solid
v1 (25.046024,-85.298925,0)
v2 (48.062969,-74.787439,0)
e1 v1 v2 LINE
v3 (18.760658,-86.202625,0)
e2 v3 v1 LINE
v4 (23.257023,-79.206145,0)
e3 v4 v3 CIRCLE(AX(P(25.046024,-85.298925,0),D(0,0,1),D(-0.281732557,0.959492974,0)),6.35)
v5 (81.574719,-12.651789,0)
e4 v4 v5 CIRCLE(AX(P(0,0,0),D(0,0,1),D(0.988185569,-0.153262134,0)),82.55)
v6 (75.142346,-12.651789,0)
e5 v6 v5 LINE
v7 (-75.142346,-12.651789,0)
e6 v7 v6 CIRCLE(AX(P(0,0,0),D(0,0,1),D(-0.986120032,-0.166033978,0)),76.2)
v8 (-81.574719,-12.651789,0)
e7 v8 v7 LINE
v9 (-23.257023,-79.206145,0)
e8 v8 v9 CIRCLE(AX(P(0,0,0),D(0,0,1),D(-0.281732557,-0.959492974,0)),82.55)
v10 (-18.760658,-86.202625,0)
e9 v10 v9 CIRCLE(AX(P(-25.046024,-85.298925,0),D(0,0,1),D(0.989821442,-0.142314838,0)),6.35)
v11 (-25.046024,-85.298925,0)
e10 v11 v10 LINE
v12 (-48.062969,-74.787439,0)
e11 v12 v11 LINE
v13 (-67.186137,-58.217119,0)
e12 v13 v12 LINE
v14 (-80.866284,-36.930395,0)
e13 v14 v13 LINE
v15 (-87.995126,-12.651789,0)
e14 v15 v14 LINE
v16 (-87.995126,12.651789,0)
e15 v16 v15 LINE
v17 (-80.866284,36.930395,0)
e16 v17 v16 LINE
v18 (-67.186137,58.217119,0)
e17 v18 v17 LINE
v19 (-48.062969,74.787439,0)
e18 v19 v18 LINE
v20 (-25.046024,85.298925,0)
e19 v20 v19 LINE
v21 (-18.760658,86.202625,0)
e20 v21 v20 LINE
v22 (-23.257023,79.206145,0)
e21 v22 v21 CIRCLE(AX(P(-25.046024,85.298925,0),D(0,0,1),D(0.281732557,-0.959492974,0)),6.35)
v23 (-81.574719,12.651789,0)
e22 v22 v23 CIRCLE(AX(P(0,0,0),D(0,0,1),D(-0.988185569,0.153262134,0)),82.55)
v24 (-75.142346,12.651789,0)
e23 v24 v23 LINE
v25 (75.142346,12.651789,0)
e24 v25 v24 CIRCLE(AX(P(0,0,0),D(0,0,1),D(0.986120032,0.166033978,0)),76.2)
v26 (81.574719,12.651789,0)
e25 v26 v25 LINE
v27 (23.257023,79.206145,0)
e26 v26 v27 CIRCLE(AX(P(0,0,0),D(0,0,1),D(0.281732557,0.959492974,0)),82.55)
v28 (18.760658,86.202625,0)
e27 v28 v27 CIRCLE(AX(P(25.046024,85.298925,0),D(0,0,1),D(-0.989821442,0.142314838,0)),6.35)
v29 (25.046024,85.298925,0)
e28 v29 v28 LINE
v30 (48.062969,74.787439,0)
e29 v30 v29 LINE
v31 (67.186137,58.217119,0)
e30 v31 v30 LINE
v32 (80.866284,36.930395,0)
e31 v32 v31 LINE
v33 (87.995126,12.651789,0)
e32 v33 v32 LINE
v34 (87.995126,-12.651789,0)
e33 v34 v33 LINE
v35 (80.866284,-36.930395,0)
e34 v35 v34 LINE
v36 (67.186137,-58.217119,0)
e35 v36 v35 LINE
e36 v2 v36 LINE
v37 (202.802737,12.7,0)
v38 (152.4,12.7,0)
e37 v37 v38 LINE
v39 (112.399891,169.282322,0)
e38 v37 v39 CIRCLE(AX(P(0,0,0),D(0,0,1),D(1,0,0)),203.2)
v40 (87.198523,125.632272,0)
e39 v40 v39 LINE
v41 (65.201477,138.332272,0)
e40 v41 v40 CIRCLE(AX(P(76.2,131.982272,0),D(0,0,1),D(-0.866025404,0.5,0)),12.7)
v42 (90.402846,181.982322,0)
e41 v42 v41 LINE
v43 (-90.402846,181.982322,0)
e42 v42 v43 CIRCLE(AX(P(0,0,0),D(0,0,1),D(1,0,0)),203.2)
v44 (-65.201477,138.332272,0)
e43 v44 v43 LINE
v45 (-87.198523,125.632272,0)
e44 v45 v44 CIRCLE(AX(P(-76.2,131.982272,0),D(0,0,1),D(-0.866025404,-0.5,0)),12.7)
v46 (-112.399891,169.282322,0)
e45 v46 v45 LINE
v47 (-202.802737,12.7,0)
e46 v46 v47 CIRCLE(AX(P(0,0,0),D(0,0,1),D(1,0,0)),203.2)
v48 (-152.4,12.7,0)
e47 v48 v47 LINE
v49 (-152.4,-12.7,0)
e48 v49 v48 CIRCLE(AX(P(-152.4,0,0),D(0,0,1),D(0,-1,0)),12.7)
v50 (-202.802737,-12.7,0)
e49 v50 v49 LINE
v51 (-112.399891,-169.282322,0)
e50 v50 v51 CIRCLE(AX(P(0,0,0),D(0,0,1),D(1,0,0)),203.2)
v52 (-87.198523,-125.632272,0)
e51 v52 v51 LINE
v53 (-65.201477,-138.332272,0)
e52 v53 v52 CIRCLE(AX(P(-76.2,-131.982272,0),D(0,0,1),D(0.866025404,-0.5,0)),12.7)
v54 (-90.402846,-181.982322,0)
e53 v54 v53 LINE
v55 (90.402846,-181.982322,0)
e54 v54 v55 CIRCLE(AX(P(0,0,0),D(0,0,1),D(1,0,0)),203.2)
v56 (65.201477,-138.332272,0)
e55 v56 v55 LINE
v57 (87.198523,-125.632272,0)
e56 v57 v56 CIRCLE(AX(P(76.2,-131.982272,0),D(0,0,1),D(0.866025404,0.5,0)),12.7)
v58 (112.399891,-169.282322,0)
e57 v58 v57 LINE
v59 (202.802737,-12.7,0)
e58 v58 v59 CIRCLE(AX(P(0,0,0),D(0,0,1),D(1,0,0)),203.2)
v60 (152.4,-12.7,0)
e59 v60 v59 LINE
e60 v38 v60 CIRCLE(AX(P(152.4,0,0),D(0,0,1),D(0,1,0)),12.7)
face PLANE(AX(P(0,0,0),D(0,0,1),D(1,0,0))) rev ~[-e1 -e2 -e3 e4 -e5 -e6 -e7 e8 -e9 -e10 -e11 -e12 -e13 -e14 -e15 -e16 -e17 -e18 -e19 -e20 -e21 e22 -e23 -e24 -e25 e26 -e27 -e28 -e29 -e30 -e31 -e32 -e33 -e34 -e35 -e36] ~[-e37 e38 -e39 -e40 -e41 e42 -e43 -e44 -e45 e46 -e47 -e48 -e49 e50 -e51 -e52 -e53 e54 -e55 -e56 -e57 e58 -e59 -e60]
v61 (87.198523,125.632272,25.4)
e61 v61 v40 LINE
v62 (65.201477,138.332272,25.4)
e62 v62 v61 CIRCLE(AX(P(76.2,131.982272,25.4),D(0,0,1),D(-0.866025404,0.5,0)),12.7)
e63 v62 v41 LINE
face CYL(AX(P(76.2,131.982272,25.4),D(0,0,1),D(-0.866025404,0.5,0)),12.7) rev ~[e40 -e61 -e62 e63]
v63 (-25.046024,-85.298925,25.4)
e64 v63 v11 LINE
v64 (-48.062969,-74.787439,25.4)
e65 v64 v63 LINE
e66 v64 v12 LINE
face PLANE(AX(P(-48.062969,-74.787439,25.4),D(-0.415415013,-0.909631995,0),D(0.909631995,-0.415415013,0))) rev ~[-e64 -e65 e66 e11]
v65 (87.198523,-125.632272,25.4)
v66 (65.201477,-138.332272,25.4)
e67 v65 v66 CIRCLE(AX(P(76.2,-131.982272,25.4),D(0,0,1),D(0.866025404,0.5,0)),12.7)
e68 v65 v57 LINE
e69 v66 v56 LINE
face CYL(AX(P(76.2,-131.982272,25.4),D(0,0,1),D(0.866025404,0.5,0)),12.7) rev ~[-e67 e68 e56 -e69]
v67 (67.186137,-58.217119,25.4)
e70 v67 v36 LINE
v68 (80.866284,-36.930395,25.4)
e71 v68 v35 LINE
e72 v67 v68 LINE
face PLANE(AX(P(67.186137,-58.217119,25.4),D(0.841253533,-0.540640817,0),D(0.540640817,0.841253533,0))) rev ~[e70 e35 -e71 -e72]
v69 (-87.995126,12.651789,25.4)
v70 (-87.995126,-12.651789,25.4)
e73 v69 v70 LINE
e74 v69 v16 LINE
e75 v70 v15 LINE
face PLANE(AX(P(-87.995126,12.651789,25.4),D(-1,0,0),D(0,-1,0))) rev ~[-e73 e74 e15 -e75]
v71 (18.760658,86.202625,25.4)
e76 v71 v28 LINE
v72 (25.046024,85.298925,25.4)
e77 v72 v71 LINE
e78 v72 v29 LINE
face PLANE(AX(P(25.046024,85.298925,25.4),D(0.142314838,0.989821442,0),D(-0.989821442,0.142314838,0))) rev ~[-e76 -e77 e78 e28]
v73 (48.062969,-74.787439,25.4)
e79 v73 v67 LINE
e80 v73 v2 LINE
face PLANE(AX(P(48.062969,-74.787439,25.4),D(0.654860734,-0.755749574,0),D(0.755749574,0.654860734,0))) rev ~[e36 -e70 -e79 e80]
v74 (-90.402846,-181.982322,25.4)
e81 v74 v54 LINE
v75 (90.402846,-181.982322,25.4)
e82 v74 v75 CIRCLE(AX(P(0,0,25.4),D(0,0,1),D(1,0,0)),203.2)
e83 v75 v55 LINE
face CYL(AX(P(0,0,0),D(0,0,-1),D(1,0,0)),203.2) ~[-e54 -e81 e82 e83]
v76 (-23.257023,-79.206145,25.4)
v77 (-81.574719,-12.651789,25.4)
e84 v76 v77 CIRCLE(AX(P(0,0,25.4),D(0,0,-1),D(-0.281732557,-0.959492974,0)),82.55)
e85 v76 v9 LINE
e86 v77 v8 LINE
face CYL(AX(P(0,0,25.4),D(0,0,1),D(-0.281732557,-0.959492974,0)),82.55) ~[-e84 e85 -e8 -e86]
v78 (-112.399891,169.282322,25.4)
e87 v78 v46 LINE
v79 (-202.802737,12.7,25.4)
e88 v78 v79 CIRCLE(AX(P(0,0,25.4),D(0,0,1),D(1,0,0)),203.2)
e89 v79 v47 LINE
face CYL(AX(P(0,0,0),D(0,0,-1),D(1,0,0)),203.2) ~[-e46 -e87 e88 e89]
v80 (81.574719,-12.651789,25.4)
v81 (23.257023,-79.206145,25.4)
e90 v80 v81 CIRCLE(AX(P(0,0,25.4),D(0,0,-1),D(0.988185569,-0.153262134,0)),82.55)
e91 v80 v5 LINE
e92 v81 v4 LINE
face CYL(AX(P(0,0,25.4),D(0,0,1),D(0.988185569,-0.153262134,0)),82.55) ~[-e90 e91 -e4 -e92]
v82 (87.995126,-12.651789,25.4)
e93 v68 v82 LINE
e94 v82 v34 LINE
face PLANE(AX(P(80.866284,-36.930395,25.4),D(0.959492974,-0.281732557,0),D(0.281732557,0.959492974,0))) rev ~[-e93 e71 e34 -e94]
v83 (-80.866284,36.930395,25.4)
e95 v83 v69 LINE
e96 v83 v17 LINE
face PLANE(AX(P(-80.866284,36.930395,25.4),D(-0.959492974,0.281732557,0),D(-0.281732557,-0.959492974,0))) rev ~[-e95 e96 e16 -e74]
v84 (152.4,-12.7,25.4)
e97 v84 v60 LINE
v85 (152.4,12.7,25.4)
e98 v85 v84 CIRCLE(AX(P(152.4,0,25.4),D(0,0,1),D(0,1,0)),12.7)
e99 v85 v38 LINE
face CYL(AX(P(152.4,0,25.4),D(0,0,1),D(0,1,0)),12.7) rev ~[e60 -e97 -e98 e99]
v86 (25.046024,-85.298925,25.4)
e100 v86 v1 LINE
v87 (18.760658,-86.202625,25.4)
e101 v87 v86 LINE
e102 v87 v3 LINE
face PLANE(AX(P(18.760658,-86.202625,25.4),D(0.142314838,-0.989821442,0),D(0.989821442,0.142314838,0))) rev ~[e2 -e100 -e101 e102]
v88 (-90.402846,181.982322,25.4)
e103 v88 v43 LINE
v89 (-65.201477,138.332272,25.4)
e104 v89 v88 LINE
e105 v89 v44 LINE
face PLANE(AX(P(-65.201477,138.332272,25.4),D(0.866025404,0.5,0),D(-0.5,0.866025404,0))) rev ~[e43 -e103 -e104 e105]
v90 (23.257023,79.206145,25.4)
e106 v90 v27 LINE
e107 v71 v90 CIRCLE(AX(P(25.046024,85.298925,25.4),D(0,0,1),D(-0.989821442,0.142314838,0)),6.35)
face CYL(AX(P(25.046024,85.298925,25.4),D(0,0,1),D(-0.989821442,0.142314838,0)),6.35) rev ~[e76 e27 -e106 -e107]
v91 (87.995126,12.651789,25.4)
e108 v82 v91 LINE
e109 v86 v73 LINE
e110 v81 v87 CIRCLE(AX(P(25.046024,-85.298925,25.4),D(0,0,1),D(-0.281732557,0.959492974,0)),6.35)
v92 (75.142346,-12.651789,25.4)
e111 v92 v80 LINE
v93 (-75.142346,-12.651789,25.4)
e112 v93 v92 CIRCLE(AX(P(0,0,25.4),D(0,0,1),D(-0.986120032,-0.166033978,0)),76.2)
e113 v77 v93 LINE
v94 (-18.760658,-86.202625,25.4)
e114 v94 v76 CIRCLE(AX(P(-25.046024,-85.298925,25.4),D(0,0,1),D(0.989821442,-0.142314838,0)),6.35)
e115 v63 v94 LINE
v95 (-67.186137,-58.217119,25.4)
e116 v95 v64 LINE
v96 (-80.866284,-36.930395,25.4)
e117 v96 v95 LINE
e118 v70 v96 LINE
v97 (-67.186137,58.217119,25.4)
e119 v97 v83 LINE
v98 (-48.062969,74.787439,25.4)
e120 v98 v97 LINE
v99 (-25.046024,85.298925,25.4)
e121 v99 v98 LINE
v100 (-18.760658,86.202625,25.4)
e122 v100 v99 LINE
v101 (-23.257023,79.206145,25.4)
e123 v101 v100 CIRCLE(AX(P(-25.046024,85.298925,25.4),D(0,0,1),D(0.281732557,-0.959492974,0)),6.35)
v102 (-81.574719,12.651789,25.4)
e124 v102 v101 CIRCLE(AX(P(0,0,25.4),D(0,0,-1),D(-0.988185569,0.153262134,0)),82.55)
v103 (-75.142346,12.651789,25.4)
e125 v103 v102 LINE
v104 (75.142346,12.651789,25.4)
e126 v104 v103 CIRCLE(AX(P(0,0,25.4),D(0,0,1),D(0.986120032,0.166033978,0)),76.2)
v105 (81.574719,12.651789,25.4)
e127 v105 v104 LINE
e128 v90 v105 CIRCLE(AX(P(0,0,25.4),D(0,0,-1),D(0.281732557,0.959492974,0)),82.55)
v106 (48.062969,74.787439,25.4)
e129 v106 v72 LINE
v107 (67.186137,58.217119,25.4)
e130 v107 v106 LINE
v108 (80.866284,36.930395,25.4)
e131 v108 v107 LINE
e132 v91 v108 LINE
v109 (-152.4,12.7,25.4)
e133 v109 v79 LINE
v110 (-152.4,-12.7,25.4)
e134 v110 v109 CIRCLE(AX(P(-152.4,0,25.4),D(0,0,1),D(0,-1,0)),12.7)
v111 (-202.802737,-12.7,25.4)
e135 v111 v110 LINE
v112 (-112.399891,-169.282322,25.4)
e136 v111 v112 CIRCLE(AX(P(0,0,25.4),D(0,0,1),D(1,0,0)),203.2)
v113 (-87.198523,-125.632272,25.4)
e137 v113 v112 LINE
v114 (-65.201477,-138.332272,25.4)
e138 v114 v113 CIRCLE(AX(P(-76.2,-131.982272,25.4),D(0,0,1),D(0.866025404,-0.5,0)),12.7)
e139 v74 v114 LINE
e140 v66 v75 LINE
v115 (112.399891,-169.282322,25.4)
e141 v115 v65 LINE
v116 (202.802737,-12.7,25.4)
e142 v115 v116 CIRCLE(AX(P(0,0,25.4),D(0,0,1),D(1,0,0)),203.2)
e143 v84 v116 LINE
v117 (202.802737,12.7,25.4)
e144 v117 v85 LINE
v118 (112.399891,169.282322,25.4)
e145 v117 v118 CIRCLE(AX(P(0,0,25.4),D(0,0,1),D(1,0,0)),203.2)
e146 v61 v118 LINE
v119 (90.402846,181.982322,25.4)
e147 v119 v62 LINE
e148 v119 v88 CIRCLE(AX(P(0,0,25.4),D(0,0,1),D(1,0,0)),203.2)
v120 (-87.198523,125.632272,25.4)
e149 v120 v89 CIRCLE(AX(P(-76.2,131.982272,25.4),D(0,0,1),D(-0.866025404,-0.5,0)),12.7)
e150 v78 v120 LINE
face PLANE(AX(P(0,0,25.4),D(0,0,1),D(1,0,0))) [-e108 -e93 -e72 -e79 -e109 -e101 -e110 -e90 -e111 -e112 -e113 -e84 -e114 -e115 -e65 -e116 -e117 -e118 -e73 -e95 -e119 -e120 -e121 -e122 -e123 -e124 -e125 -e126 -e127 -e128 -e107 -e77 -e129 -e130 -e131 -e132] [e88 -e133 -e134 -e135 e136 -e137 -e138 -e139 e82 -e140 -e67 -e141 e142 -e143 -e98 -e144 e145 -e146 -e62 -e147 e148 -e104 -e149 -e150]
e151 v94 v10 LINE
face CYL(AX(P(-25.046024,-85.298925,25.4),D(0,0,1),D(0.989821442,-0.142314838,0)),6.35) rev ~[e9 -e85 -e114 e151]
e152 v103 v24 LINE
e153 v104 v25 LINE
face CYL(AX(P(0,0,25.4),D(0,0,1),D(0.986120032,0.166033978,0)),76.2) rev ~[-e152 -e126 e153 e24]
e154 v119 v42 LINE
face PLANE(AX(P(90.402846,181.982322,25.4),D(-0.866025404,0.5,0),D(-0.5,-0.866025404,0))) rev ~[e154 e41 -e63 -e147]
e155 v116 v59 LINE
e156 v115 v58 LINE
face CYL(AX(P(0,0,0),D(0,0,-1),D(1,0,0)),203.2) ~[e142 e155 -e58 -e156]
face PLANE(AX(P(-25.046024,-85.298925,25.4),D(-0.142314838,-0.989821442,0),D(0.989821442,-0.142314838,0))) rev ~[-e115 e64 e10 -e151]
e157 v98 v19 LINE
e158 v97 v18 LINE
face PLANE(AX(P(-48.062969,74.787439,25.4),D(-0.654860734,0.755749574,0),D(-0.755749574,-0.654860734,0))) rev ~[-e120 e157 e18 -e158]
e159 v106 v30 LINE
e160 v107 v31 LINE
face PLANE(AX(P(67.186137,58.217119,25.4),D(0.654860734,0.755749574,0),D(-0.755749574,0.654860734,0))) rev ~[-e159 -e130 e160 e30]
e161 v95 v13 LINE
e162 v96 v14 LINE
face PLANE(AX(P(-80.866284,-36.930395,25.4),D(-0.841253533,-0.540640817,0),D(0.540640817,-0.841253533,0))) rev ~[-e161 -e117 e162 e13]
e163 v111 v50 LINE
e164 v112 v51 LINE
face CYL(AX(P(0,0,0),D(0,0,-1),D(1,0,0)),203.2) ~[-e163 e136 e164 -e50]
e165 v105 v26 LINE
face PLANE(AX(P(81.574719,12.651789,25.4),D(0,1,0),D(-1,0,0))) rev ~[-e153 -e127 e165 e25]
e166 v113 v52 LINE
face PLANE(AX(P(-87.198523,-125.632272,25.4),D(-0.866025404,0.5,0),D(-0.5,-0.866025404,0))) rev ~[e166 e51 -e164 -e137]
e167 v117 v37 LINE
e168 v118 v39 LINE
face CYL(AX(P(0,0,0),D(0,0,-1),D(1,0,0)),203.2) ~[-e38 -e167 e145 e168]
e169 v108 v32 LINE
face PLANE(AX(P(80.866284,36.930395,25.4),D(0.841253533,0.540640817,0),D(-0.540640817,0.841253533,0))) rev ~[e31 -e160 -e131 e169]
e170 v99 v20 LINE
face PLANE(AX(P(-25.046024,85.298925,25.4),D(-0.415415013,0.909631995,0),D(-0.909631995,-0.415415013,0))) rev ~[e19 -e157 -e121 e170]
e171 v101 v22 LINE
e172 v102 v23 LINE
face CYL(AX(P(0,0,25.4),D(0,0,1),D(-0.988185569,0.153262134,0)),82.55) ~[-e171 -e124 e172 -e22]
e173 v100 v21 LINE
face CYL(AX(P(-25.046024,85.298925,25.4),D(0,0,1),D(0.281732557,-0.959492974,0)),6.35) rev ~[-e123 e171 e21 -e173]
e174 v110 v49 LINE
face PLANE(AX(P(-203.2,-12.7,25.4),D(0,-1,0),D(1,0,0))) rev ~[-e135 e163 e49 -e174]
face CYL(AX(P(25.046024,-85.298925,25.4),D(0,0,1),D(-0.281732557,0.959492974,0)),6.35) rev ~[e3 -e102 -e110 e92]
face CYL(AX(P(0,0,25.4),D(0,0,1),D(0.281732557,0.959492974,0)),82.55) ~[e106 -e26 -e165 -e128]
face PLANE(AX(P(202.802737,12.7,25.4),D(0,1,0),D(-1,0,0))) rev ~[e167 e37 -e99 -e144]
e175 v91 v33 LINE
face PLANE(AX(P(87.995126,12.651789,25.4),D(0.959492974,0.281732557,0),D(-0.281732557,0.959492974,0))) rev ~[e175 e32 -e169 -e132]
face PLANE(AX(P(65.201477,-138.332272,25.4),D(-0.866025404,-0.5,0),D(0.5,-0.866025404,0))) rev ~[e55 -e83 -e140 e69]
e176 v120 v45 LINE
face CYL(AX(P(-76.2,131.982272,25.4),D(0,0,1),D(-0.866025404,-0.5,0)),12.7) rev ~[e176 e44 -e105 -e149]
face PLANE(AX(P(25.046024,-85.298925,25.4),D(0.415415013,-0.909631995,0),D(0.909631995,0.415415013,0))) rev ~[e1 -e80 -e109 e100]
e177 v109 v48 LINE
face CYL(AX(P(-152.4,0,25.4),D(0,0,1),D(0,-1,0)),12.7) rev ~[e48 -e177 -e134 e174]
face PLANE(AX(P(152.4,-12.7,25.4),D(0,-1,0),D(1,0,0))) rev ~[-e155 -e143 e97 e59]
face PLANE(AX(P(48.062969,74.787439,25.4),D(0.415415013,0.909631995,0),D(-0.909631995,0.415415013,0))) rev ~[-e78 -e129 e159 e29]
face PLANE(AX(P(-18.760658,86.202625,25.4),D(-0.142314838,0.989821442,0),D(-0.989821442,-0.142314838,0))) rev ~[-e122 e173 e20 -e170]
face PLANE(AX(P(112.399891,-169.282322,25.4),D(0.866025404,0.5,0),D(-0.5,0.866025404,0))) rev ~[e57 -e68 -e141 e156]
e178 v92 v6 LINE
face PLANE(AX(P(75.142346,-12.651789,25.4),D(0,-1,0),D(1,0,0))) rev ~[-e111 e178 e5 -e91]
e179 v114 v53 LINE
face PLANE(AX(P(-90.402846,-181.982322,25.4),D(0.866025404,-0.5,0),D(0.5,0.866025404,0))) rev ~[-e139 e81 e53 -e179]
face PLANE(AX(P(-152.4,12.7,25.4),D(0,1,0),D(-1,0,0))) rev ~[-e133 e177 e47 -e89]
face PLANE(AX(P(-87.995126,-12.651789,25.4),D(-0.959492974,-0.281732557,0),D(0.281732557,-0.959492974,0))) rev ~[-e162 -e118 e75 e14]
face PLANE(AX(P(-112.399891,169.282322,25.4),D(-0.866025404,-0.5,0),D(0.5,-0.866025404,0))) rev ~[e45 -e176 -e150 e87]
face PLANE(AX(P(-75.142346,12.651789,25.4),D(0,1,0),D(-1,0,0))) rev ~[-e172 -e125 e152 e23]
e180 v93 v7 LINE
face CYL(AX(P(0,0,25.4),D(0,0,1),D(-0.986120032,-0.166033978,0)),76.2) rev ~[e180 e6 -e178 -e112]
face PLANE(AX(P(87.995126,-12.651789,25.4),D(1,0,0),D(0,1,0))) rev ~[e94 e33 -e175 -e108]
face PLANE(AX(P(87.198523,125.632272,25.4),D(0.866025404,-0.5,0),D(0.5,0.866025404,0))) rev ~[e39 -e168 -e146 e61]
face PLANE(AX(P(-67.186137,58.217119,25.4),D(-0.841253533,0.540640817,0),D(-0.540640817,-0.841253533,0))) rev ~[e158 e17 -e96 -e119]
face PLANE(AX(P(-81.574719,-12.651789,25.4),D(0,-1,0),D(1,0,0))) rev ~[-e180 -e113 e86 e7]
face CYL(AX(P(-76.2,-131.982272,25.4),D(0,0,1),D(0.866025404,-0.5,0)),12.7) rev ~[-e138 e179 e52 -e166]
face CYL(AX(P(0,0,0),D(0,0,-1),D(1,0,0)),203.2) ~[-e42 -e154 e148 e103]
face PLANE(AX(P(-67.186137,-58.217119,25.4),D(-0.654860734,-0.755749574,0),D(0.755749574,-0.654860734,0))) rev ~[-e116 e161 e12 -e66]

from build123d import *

# Parameters (mm, degrees)
F0_R     = 203.2
F1_DEPTH = 25.4
F3_DEPTH = 25.401
F5_DEPTH = 25.401


with BuildPart() as f1:
    # F0 (on Top) → F1 (new body)
    with BuildSketch(Plane.XY):
        Circle(F0_R)
    extrude(amount=F1_DEPTH)

    # F2 (on face) → F3 (cut, through all)
    with BuildSketch(Plane.XY.offset(25.4)):
        with BuildLine():
            ThreePointArc((-203.2, 12.7), (-215.9, 0), (-203.2, -12.7))
            Line((-203.2, -12.7), (-152.4, -12.7))
            ThreePointArc((-152.4, -12.7), (-139.7, 0), (-152.4, 12.7))
            Line((-152.4, 12.7), (-203.2, 12.7))
        make_face()
        with BuildLine():
            Line((-87.1985226281, -125.6322715367), (-112.399890962, -169.2823219114))
            ThreePointArc((-112.399890962, -169.2823219114), (-101.6, -175.976362049), (-90.4028457059, -181.9823219114))
            Line((-90.4028457059, -181.9823219114), (-65.2014773719, -138.3322715367))
            ThreePointArc((-65.2014773719, -138.3322715367), (-69.85, -120.9837489087), (-87.1985226281, -125.6322715367))
        make_face()
        with BuildLine():
            Line((65.2014773719, -138.3322715367), (90.4028457059, -181.9823219114))
            ThreePointArc((90.4028457059, -181.9823219114), (101.6, -175.976362049), (112.399890962, -169.2823219114))
            Line((112.399890962, -169.2823219114), (87.1985226281, -125.6322715367))
            ThreePointArc((87.1985226281, -125.6322715367), (69.85, -120.9837489087), (65.2014773719, -138.3322715367))
        make_face()
        with BuildLine():
            Line((152.4, -12.7), (202.8027366679, -12.7))
            ThreePointArc((202.8027366679, -12.7), (203.1006598844, -6.353105897), (203.2, 0))
            ThreePointArc((203.2, 0), (203.1006598844, 6.353105897), (202.8027366679, 12.7))
            Line((202.8027366679, 12.7), (152.4, 12.7))
            ThreePointArc((152.4, 12.7), (139.7, 0), (152.4, -12.7))
        make_face()
        with BuildLine():
            ThreePointArc((112.399890962, 169.2823219114), (101.6, 175.976362049), (90.4028457059, 181.9823219114))
            Line((90.4028457059, 181.9823219114), (65.2014773719, 138.3322715367))
            ThreePointArc((65.2014773719, 138.3322715367), (69.85, 120.9837489087), (87.1985226281, 125.6322715367))
            Line((87.1985226281, 125.6322715367), (112.399890962, 169.2823219114))
        make_face()
        with BuildLine():
            ThreePointArc((-90.4028457059, 181.9823219114), (-101.6, 175.976362049), (-112.399890962, 169.2823219114))
            Line((-112.399890962, 169.2823219114), (-87.1985226281, 125.6322715367))
            ThreePointArc((-87.1985226281, 125.6322715367), (-69.85, 120.9837489087), (-65.2014773719, 138.3322715367))
            Line((-65.2014773719, 138.3322715367), (-90.4028457059, 181.9823219114))
        make_face()
    extrude(amount=-F3_DEPTH, mode=Mode.SUBTRACT)

    # F4 (on face) → F5 (cut, through all)
    with BuildSketch(Plane.XY.offset(25.4)):
        with BuildLine():
            ThreePointArc((76.2, 0), (75.9351262608, 6.3479602827), (75.1423464632, 12.6517891225))
            ThreePointArc((75.1423464632, 12.6517891225), (0, 76.2), (-75.1423464632, 12.6517891225))
            ThreePointArc((-75.1423464632, 12.6517891225), (-76.2, 0), (-75.1423464632, -12.6517891225))
            ThreePointArc((-75.1423464632, -12.6517891225), (0, -76.2), (75.1423464632, -12.6517891225))
            ThreePointArc((75.1423464632, -12.6517891225), (75.9351262608, -6.3479602827), (76.2, 0))
        make_face()
        with BuildLine():
            Line((-87.9951261832, 12.6517891225), (-81.5747187062, 12.6517891225))
            ThreePointArc((-81.5747187062, 12.6517891225), (-62.0869878899, 54.4032024311), (-23.2570225673, 79.2061449719))
            ThreePointArc((-23.2570225673, 79.2061449719), (-19.7040643697, 81.8658561635), (-18.7606581473, 86.2026245774))
            Line((-18.7606581473, 86.2026245774), (-25.0460243032, 85.2989253543))
            Line((-25.0460243032, 85.2989253543), (-48.0629686718, 74.7874390687))
            Line((-48.0629686718, 74.7874390687), (-67.1861371601, 58.2171192477))
            Line((-67.1861371601, 58.2171192477), (-80.866284387, 36.9303946559))
            Line((-80.866284387, 36.9303946559), (-87.9951261832, 12.6517891225))
        make_face()
        with BuildLine():
            ThreePointArc((-81.5747187062, -12.6517891225), (-82.55, 0), (-81.5747187062, 12.6517891225))
            Line((-81.5747187062, 12.6517891225), (-87.9951261832, 12.6517891225))
            Line((-87.9951261832, 12.6517891225), (-87.9951261832, -12.6517891225))
            Line((-87.9951261832, -12.6517891225), (-81.5747187062, -12.6517891225))
        make_face()
        with BuildLine():
            ThreePointArc((-75.1423464632, -12.6517891225), (-76.2, 0), (-75.1423464632, 12.6517891225))
            Line((-75.1423464632, 12.6517891225), (-81.5747187062, 12.6517891225))
            ThreePointArc((-81.5747187062, 12.6517891225), (-82.55, 0), (-81.5747187062, -12.6517891225))
            Line((-81.5747187062, -12.6517891225), (-75.1423464632, -12.6517891225))
        make_face()
        with BuildLine():
            ThreePointArc((-23.2570225673, -79.2061449719), (-62.0869878899, -54.4032024311), (-81.5747187062, -12.6517891225))
            Line((-81.5747187062, -12.6517891225), (-87.9951261832, -12.6517891225))
            Line((-87.9951261832, -12.6517891225), (-80.866284387, -36.9303946559))
            Line((-80.866284387, -36.9303946559), (-67.1861371601, -58.2171192477))
            Line((-67.1861371601, -58.2171192477), (-48.0629686718, -74.7874390687))
            Line((-48.0629686718, -74.7874390687), (-25.0460243032, -85.2989253543))
            Line((-25.0460243032, -85.2989253543), (-18.7606581473, -86.2026245774))
            ThreePointArc((-18.7606581473, -86.2026245774), (-19.7040643697, -81.8658561635), (-23.2570225673, -79.2061449719))
        make_face()
        with BuildLine():
            Line((80.866284387, -36.9303946559), (87.9951261832, -12.6517891225))
            Line((87.9951261832, -12.6517891225), (81.5747187062, -12.6517891225))
            ThreePointArc((81.5747187062, -12.6517891225), (62.0869878899, -54.4032024311), (23.2570225673, -79.2061449719))
            ThreePointArc((23.2570225673, -79.2061449719), (19.7040643697, -81.8658561635), (18.7606581473, -86.2026245774))
            Line((18.7606581473, -86.2026245774), (25.0460243032, -85.2989253543))
            Line((25.0460243032, -85.2989253543), (48.0629686718, -74.7874390687))
            Line((48.0629686718, -74.7874390687), (67.1861371601, -58.2171192477))
            Line((67.1861371601, -58.2171192477), (80.866284387, -36.9303946559))
        make_face()
        with BuildLine():
            Line((87.9951261832, -12.6517891225), (87.9951261832, 12.6517891225))
            Line((87.9951261832, 12.6517891225), (81.5747187062, 12.6517891225))
            ThreePointArc((81.5747187062, 12.6517891225), (82.55, 0), (81.5747187062, -12.6517891225))
            Line((81.5747187062, -12.6517891225), (87.9951261832, -12.6517891225))
        make_face()
        with BuildLine():
            ThreePointArc((81.5747187062, -12.6517891225), (82.55, 0), (81.5747187062, 12.6517891225))
            Line((81.5747187062, 12.6517891225), (75.1423464632, 12.6517891225))
            ThreePointArc((75.1423464632, 12.6517891225), (75.9351262608, 6.3479602827), (76.2, 0))
            ThreePointArc((76.2, 0), (75.9351262608, -6.3479602827), (75.1423464632, -12.6517891225))
            Line((75.1423464632, -12.6517891225), (81.5747187062, -12.6517891225))
        make_face()
        with BuildLine():
            Line((81.5747187062, 12.6517891225), (87.9951261832, 12.6517891225))
            Line((87.9951261832, 12.6517891225), (80.866284387, 36.9303946559))
            Line((80.866284387, 36.9303946559), (67.1861371601, 58.2171192477))
            Line((67.1861371601, 58.2171192477), (48.0629686718, 74.7874390687))
            Line((48.0629686718, 74.7874390687), (25.0460243032, 85.2989253543))
            Line((25.0460243032, 85.2989253543), (18.7606581473, 86.2026245774))
            ThreePointArc((18.7606581473, 86.2026245774), (19.7040643697, 81.8658561635), (23.2570225673, 79.2061449719))
            ThreePointArc((23.2570225673, 79.2061449719), (62.0869878899, 54.4032024311), (81.5747187062, 12.6517891225))
        make_face()
    extrude(amount=-F5_DEPTH, mode=Mode.SUBTRACT)


solid = f1.part
